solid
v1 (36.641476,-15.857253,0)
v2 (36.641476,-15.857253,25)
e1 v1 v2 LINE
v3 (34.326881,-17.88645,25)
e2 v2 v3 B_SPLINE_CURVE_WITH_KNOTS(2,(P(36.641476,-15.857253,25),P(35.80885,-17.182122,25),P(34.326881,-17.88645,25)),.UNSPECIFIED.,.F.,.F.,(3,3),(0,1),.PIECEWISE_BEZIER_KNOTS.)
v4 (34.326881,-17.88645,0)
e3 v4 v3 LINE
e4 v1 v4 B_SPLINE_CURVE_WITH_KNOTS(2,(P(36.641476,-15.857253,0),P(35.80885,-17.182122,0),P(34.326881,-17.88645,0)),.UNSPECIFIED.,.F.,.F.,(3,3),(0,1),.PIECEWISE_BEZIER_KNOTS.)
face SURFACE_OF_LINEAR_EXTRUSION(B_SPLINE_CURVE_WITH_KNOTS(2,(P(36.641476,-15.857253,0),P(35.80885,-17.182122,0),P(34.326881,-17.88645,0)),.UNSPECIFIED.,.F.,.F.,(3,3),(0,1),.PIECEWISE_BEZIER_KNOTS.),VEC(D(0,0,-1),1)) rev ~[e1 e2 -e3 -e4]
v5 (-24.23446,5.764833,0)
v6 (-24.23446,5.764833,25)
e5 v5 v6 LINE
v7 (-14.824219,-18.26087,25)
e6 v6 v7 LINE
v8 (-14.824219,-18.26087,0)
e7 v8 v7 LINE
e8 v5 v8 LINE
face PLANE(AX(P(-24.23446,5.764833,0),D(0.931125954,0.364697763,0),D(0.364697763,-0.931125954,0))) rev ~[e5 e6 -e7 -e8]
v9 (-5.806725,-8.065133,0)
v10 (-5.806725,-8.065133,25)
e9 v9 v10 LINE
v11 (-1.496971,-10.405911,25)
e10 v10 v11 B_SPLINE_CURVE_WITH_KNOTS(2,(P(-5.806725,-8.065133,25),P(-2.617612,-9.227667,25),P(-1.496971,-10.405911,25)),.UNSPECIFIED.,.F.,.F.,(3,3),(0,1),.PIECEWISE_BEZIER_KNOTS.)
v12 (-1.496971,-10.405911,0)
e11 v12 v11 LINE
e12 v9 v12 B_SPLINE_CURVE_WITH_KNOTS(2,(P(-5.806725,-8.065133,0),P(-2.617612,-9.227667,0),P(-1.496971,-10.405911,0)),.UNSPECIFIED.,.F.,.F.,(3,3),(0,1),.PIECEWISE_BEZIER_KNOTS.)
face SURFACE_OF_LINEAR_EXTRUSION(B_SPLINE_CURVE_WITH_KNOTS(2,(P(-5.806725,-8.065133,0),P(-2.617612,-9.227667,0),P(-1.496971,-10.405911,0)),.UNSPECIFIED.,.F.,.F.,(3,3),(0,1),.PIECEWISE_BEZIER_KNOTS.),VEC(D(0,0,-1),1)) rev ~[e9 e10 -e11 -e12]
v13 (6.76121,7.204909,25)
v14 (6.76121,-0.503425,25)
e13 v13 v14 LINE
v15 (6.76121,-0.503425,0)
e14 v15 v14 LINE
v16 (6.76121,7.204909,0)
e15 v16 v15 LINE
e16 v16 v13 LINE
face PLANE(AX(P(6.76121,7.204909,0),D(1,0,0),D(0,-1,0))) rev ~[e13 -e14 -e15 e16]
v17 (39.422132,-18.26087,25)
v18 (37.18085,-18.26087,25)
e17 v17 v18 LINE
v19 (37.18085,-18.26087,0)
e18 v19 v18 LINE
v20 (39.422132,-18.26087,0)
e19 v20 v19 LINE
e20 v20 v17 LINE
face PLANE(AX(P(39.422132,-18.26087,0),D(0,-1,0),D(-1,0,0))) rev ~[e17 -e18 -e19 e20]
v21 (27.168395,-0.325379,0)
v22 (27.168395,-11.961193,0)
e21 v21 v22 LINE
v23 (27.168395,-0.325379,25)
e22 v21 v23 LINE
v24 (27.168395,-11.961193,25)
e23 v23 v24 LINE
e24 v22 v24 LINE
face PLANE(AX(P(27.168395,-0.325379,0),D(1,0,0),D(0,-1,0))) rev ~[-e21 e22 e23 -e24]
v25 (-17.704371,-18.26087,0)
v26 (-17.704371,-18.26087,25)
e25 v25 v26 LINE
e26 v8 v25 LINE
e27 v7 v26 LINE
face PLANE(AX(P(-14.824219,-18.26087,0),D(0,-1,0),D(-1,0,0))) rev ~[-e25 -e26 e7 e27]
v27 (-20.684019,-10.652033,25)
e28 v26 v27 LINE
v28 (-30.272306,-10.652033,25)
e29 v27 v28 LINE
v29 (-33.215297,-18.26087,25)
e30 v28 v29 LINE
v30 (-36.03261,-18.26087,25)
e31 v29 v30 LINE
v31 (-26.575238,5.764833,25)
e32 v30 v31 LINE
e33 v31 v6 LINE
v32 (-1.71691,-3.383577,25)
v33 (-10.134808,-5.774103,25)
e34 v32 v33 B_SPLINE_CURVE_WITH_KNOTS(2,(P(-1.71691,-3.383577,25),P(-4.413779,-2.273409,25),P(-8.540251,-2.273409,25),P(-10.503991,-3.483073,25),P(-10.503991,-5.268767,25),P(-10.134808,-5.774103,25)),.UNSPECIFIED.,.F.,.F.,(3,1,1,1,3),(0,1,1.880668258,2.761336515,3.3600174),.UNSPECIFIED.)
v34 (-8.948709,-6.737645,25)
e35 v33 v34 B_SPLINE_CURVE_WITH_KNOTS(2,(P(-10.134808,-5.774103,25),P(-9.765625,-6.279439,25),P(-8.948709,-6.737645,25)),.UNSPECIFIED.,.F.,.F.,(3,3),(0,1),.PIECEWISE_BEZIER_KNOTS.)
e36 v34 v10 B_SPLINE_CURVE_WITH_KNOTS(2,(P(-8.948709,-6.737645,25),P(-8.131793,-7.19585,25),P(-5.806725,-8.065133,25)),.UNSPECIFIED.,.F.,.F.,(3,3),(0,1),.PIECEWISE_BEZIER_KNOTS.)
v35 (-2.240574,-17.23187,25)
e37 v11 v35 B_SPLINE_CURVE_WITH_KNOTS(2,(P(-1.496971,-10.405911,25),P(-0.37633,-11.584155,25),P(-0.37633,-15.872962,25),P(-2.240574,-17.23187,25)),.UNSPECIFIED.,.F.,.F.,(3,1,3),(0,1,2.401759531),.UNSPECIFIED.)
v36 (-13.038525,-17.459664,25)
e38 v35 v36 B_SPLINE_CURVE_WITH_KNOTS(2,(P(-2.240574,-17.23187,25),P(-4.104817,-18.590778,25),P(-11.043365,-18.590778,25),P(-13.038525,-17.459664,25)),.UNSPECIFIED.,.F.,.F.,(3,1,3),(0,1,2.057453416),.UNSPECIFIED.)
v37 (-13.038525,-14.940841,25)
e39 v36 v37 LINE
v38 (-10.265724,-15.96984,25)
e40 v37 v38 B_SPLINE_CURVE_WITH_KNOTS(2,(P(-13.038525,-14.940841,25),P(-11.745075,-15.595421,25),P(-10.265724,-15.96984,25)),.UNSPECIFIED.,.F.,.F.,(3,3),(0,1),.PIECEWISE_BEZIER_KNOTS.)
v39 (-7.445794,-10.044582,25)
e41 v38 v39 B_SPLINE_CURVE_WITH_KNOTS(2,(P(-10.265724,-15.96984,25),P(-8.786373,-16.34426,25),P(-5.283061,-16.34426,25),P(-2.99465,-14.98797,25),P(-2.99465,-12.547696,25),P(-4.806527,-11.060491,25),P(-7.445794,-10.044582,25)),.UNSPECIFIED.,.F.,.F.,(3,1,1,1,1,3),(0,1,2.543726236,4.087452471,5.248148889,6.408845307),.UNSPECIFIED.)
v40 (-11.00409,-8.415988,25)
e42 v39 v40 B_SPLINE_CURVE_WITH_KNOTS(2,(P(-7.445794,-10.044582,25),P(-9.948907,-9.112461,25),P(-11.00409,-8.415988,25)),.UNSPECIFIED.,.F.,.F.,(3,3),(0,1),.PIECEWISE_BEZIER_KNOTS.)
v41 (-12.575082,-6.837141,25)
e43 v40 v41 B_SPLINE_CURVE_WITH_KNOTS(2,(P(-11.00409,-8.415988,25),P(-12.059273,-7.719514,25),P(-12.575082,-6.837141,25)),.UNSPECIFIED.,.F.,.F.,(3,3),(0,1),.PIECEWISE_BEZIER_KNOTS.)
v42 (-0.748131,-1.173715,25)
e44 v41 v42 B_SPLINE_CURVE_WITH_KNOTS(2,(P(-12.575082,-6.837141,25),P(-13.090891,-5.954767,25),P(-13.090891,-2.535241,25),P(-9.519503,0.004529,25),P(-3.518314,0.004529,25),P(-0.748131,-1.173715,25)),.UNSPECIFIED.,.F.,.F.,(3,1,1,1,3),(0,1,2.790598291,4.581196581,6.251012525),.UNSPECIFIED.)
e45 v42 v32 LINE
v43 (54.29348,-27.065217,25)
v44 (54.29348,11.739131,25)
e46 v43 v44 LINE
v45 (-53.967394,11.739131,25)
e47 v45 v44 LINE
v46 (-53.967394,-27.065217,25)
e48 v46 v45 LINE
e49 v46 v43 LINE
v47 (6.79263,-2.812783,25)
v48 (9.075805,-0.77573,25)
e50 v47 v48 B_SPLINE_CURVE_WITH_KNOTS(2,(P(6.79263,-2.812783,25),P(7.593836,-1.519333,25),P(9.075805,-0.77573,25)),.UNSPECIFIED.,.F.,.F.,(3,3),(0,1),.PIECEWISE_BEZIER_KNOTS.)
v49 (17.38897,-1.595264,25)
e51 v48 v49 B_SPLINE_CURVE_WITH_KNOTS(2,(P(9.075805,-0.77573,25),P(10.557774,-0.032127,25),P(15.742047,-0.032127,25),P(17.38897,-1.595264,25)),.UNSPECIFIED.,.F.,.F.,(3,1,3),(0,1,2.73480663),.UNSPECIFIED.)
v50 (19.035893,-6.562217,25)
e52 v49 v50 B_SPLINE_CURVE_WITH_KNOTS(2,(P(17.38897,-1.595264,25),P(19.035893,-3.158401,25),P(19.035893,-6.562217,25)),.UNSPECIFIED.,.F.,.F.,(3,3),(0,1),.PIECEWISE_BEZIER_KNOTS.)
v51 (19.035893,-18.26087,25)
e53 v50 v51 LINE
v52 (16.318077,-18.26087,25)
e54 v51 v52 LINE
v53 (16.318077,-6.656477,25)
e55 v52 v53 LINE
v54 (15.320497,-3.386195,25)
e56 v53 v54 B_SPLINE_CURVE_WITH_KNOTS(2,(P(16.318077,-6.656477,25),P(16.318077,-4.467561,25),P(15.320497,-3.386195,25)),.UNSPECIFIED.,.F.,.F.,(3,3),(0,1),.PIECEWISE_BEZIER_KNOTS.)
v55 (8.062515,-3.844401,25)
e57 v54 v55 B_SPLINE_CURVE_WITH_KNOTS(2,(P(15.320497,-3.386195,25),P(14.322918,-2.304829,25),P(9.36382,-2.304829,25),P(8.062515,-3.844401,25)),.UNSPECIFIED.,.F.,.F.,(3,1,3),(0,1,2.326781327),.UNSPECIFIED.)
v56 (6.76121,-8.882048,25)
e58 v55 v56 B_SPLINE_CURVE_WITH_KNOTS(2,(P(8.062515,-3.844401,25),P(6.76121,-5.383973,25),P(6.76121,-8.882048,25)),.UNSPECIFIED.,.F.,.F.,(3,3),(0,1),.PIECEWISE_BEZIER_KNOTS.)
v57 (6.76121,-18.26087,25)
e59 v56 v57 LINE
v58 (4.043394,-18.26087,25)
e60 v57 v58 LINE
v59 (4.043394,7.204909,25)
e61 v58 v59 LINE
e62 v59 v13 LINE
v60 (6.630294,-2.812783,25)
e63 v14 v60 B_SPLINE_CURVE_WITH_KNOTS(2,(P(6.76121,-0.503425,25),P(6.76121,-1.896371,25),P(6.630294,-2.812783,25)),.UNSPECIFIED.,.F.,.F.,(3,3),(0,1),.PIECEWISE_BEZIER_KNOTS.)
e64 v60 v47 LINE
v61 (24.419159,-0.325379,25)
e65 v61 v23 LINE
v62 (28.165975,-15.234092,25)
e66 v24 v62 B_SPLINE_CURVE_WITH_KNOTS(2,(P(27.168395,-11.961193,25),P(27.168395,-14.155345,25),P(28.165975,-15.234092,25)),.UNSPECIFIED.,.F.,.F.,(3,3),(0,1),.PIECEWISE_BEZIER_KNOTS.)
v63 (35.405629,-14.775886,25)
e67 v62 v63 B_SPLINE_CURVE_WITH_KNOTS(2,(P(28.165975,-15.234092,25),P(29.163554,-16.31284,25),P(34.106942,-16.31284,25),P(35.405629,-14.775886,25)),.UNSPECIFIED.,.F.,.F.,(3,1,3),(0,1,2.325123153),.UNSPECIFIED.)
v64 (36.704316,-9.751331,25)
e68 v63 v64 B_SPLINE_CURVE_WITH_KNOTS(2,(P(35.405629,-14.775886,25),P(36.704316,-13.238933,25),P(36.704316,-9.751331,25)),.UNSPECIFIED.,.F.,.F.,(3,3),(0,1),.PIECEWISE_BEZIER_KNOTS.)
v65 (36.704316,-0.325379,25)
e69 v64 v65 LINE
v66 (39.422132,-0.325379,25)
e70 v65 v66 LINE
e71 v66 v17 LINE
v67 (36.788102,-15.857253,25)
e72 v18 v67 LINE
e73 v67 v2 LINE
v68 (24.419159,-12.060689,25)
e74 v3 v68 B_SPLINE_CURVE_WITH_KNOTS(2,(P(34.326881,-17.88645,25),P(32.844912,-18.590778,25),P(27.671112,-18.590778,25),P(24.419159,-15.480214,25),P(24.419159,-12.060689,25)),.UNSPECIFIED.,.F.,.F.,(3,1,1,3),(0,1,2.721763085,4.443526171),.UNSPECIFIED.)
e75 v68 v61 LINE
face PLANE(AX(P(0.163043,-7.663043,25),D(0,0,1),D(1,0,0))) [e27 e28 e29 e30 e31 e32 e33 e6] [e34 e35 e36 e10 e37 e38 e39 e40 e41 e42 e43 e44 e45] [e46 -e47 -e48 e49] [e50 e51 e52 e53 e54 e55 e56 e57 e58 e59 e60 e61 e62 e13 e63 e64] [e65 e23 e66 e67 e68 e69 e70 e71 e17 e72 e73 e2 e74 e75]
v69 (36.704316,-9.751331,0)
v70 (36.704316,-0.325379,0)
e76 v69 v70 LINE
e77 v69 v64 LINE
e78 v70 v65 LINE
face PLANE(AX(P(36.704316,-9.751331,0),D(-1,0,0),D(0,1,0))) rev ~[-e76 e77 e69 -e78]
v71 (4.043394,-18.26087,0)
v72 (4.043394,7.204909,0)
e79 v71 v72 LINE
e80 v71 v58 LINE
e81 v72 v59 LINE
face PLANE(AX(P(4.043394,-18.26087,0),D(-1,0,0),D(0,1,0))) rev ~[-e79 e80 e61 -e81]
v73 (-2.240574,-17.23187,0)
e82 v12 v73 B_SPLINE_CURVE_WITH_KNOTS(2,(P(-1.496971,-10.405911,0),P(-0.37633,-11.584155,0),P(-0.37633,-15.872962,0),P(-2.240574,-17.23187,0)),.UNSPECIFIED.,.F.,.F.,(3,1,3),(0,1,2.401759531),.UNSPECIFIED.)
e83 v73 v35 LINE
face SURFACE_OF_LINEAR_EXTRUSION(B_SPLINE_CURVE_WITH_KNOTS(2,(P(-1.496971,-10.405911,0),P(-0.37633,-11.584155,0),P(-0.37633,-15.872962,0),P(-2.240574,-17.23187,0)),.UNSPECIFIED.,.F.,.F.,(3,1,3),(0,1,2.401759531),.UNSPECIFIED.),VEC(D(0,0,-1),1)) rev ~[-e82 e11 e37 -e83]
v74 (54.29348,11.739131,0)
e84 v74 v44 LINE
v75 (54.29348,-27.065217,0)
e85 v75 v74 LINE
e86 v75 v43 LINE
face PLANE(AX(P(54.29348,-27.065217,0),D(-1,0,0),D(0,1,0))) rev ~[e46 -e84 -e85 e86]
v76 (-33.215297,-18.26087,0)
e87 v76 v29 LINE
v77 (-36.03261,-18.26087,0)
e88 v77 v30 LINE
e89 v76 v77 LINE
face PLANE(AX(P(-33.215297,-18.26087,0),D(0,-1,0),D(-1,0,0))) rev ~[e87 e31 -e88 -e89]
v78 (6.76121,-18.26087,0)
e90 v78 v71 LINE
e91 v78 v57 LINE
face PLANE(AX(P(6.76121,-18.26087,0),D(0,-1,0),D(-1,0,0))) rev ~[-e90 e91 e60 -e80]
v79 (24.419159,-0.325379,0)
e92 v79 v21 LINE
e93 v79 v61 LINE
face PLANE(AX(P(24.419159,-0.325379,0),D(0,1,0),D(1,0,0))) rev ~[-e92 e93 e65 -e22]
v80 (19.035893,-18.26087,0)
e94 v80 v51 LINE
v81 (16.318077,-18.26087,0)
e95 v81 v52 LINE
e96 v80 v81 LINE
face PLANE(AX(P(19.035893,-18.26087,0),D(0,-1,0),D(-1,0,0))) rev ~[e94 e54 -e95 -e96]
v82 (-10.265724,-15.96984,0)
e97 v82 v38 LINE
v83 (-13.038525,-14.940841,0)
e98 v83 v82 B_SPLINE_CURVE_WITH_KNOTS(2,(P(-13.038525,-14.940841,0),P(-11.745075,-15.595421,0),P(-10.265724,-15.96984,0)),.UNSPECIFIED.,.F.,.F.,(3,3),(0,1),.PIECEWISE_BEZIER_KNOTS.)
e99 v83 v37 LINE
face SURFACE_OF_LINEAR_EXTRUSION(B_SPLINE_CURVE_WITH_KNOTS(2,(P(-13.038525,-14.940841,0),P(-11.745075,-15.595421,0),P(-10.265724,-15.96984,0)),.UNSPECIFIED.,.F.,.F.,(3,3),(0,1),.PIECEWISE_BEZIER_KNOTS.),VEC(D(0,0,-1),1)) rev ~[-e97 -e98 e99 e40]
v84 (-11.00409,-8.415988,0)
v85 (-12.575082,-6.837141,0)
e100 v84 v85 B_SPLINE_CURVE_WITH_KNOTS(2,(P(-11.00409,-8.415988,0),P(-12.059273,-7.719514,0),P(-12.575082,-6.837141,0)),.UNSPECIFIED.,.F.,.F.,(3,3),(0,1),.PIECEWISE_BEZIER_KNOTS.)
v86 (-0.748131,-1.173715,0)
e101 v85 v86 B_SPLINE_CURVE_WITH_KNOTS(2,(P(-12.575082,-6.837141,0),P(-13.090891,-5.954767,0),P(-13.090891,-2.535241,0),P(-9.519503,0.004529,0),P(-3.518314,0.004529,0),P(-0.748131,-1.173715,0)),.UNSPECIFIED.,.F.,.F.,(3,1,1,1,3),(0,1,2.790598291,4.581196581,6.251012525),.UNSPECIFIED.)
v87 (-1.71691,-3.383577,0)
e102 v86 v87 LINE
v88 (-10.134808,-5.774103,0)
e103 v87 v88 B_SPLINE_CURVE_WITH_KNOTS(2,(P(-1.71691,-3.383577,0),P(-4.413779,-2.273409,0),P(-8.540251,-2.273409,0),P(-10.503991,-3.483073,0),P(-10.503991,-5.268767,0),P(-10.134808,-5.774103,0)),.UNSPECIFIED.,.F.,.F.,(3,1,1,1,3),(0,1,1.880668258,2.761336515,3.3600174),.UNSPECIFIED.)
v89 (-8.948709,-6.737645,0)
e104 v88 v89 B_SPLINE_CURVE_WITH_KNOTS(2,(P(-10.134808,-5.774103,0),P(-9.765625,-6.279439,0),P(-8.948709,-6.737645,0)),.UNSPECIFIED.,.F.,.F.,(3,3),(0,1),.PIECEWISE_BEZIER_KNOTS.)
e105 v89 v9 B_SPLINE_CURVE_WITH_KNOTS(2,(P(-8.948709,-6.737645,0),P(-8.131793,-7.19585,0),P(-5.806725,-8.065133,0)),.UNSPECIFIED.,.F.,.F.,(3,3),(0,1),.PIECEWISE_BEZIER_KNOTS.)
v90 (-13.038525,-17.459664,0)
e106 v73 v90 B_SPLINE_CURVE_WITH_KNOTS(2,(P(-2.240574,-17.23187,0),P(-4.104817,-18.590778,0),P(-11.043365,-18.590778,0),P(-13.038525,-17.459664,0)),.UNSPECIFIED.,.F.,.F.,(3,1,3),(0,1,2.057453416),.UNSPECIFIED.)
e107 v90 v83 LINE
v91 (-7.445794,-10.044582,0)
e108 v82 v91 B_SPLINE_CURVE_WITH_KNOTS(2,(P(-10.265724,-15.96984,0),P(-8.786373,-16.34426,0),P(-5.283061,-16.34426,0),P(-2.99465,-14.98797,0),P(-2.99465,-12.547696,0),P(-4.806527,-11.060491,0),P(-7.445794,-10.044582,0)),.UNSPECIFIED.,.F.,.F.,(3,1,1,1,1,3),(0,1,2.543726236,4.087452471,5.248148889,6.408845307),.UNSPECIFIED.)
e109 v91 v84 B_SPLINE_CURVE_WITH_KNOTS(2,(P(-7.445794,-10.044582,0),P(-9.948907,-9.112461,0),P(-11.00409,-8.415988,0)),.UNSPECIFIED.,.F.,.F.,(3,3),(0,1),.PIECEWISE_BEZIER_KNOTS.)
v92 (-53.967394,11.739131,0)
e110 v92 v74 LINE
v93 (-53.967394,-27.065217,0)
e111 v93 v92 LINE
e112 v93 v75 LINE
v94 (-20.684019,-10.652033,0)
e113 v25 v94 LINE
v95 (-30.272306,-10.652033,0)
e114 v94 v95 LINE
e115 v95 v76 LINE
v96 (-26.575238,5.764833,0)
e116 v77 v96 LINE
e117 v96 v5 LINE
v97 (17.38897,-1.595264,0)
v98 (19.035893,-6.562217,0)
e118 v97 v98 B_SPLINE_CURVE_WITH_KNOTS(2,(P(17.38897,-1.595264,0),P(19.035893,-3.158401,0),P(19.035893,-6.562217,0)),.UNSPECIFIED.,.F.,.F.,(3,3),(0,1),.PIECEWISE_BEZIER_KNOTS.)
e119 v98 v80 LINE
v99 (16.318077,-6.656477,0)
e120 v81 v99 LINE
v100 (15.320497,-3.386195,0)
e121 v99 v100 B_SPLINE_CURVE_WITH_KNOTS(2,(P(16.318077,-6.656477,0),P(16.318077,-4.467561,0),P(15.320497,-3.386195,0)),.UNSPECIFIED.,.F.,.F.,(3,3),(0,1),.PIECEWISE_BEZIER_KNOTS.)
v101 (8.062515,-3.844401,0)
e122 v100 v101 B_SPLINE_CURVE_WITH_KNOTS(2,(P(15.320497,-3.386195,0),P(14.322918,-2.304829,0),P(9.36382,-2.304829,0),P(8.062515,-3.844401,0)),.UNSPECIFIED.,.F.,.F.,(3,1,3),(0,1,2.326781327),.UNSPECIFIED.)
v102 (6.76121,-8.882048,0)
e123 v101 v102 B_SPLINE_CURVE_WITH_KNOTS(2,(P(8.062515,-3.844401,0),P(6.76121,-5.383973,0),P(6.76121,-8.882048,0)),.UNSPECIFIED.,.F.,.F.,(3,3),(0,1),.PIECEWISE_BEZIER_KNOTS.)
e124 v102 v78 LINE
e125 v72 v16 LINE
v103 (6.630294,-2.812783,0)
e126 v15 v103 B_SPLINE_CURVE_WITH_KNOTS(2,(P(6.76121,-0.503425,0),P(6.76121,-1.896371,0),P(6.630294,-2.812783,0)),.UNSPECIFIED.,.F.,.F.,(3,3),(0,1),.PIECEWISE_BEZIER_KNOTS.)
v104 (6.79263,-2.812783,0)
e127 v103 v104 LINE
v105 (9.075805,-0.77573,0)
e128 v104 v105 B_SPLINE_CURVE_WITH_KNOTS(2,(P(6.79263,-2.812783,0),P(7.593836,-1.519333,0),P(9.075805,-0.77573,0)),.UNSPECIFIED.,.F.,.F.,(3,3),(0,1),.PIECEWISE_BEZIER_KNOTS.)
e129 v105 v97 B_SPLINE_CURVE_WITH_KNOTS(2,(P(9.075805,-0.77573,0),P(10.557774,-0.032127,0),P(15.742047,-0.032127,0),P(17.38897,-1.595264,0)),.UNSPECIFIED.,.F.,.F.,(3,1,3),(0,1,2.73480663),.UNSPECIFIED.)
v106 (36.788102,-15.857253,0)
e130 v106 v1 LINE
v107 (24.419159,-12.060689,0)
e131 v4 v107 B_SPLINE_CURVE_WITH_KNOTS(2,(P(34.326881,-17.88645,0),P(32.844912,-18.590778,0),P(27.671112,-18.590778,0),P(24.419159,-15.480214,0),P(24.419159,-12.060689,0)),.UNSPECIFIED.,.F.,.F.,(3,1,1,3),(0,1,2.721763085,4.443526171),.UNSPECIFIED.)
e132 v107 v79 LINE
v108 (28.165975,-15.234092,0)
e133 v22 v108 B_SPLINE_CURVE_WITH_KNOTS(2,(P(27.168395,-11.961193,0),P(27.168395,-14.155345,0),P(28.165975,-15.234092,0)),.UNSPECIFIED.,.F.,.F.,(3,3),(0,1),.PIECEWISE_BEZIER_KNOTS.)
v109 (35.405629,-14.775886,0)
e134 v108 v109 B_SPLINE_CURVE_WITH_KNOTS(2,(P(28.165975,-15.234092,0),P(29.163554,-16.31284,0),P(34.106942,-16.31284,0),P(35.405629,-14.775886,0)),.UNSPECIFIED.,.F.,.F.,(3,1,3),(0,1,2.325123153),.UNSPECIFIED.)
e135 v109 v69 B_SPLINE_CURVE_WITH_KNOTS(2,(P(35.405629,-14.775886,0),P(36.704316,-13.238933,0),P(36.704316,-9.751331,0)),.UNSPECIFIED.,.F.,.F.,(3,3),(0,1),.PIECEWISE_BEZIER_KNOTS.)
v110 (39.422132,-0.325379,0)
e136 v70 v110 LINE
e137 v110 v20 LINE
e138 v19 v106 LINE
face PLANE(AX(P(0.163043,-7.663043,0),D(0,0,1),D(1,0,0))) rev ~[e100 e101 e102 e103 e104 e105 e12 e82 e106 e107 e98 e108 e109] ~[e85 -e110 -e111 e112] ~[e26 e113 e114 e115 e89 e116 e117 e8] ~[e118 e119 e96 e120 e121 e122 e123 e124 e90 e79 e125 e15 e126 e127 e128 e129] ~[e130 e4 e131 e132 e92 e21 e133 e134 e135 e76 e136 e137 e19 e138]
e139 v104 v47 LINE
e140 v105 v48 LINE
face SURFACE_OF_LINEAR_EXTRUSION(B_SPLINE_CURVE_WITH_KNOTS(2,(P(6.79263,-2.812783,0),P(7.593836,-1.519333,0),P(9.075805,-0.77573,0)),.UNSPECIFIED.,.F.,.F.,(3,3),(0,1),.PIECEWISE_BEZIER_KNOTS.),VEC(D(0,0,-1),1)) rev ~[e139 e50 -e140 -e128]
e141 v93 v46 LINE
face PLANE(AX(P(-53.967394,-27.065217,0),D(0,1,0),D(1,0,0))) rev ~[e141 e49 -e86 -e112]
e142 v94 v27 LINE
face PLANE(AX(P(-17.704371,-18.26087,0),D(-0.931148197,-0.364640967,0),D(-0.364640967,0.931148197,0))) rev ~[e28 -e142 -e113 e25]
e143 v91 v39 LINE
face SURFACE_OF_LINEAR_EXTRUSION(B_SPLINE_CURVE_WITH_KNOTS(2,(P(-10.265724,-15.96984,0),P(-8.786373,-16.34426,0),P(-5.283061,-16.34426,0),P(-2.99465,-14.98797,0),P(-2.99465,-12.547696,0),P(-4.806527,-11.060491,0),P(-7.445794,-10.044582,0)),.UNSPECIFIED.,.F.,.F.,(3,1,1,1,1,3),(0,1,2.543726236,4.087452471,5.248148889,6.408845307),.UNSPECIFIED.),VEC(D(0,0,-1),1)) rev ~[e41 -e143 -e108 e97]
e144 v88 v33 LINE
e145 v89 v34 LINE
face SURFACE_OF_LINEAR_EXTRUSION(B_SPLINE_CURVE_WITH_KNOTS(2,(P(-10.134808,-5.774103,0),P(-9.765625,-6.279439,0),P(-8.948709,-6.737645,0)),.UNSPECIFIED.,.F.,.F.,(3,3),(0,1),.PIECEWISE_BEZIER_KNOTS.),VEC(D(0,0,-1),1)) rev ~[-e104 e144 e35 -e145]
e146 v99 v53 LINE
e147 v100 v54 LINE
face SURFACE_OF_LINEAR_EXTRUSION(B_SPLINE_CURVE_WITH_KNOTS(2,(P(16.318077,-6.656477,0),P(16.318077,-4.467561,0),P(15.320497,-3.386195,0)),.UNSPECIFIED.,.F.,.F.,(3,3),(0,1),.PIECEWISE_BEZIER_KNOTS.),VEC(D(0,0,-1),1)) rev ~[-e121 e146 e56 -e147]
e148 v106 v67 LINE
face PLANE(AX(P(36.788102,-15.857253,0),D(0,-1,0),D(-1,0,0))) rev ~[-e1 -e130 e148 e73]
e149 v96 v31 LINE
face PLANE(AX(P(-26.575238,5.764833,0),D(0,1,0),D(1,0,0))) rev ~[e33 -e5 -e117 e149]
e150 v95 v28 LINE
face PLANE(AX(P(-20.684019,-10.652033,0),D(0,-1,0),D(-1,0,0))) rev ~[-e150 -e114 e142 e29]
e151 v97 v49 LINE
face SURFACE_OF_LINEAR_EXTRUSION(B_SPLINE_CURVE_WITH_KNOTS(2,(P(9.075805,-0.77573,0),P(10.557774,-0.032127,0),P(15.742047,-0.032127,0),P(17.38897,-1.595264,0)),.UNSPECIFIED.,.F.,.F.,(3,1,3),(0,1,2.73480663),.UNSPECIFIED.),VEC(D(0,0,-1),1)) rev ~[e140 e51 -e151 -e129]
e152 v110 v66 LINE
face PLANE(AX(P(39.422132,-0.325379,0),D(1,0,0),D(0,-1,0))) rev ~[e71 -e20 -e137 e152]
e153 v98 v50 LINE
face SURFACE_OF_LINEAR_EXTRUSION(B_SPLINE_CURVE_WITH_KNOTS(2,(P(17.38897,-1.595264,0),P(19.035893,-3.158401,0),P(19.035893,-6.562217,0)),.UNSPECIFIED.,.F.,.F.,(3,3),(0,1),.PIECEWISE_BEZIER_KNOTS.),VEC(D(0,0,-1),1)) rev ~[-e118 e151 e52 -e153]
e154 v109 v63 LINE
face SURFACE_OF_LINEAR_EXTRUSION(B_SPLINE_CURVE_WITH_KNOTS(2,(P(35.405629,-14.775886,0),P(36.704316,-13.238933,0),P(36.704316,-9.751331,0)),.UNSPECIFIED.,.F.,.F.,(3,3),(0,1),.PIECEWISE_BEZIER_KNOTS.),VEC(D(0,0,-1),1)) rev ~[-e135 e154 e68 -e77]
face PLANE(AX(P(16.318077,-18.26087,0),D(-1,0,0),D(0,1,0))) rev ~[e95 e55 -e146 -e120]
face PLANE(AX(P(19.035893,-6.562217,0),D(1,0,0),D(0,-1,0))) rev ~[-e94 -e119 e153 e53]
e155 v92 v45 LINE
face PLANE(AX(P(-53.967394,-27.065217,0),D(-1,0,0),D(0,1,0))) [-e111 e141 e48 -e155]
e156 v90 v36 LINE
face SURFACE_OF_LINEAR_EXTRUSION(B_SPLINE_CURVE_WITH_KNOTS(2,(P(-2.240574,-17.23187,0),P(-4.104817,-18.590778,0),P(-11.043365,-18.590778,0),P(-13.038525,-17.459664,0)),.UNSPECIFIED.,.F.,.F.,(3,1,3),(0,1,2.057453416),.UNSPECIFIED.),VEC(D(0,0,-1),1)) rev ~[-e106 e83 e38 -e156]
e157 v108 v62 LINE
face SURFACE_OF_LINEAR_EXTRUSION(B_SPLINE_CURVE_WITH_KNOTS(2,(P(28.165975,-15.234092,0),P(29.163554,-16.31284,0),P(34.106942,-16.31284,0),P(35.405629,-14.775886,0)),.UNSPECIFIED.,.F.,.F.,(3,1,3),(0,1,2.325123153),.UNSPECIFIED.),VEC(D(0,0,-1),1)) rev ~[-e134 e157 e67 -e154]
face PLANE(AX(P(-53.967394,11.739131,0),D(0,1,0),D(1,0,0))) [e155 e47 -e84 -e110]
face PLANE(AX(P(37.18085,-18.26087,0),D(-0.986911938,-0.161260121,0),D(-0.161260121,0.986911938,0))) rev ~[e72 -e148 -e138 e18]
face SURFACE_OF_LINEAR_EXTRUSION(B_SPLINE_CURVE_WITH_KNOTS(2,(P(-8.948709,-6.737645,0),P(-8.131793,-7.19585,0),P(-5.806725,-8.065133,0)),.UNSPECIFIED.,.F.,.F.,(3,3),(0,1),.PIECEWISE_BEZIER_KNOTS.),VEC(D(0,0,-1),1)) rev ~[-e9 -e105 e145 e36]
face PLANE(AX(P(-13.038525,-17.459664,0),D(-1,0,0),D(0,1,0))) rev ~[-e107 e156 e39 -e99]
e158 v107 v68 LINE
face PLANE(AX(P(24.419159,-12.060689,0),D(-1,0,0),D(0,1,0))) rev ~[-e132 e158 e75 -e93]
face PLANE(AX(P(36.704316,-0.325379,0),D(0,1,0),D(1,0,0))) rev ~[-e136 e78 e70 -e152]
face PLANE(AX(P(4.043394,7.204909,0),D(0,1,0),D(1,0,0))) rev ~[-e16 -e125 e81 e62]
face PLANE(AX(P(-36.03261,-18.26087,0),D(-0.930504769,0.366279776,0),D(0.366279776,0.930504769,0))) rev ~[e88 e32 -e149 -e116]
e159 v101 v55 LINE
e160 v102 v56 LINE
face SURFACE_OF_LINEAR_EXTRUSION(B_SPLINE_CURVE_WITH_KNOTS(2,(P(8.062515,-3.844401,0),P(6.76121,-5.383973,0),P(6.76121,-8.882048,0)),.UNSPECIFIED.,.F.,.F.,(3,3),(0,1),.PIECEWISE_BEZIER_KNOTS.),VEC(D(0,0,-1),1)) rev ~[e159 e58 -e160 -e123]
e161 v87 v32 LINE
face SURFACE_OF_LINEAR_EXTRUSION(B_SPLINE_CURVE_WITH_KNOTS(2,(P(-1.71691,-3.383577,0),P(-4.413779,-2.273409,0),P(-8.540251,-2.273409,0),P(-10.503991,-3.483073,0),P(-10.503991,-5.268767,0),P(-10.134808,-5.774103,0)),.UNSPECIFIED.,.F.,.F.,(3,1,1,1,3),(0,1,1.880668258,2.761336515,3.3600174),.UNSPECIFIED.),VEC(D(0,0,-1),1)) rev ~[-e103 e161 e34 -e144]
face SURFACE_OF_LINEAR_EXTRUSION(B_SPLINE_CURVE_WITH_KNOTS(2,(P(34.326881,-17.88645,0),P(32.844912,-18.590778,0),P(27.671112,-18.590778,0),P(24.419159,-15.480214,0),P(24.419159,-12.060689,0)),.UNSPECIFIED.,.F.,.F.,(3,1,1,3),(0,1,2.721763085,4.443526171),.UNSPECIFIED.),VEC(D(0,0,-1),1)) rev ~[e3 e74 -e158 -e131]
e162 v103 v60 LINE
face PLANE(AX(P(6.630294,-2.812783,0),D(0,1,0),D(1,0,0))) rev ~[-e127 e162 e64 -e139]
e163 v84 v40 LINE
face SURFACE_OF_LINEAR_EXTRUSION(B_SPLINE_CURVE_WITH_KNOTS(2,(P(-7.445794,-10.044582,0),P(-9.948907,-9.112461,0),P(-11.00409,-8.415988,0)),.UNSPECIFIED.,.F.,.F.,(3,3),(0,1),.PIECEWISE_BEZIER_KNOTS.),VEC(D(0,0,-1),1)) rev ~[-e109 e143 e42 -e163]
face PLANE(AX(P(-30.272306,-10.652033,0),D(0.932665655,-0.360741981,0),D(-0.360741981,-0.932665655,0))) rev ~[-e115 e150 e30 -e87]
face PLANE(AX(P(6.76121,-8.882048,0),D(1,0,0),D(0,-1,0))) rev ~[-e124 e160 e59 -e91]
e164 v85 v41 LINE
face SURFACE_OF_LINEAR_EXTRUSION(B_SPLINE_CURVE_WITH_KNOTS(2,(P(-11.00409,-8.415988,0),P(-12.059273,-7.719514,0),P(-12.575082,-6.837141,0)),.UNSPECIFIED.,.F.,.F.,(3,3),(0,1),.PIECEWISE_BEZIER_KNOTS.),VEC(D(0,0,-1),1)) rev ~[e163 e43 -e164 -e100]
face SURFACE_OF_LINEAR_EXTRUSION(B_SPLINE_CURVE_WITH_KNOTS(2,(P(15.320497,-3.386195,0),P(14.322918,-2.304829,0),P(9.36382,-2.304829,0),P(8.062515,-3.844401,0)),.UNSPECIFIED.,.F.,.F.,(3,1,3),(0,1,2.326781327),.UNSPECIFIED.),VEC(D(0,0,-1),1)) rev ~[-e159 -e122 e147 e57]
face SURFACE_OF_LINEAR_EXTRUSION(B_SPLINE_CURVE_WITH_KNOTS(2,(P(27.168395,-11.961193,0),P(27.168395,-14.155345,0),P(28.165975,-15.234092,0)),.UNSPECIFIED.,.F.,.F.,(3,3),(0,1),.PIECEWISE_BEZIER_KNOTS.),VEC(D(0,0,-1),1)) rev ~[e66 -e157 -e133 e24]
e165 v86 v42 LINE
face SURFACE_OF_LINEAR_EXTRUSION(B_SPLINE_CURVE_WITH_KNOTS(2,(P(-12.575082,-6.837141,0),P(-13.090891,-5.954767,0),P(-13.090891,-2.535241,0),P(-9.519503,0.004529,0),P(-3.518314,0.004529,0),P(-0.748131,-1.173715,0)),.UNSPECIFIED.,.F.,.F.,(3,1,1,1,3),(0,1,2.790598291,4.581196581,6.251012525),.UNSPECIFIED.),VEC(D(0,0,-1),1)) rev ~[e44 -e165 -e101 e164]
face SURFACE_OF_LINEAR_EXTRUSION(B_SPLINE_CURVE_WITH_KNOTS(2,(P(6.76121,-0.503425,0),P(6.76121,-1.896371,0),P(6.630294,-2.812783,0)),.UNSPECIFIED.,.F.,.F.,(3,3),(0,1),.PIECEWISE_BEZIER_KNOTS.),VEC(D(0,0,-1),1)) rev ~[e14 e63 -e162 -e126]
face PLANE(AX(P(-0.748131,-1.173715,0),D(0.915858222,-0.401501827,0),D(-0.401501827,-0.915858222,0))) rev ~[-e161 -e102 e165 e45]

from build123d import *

# Parameters (mm, degrees)
F0_W     = 108.2608737051
F0_H     = 38.8043485582
F1_DEPTH = 25


with BuildPart() as f1:
    # F0 (on Top) → F1 (new body)
    with BuildSketch(Plane.XY):
        with Locations((0.1630429178, -7.6630432159)):
            Rectangle(F0_W, F0_H)
        with BuildLine():
            add(Edge.make_bspline(
                [(-1.4969709304, -10.405910604), (-0.3763300382, -11.5841545327), (-0.3763300382, -13.3698486647)],
                knots=[0, 0, 0, 1, 1, 1], degree=2))
            add(Edge.make_bspline(
                [(-0.3763300382, -13.3698486647), (-0.3763300382, -15.8729624333), (-2.2405737654, -17.2318704311)],
                knots=[0, 0, 0, 1, 1, 1], degree=2))
            add(Edge.make_bspline(
                [(-2.2405737654, -17.2318704311), (-4.1048174927, -18.5907784289), (-7.4772134487, -18.5907784289)],
                knots=[0, 0, 0, 1, 1, 1], degree=2))
            add(Edge.make_bspline(
                [(-7.4772134487, -18.5907784289), (-11.043365073, -18.5907784289), (-13.0385247923, -17.4596642573)],
                knots=[0, 0, 0, 1, 1, 1], degree=2))
            Line((-13.0385247923, -17.4596642573), (-13.0385247923, -14.9408405697))
            add(Edge.make_bspline(
                [(-13.0385247923, -14.9408405697), (-11.7450747906, -15.5954205301), (-10.2657240801, -15.9698402674)],
                knots=[0, 0, 0, 1, 1, 1], degree=2))
            add(Edge.make_bspline(
                [(-10.2657240801, -15.9698402674), (-8.7863733695, -16.3442600048), (-7.4091371328, -16.3442600048)],
                knots=[0, 0, 0, 1, 1, 1], degree=2))
            add(Edge.make_bspline(
                [(-7.4091371328, -16.3442600048), (-5.2830614214, -16.3442600048), (-4.1388556506, -15.6661151658)],
                knots=[0, 0, 0, 1, 1, 1], degree=2))
            add(Edge.make_bspline(
                [(-4.1388556506, -15.6661151658), (-2.9946498798, -14.9879703268), (-2.9946498798, -13.5950241711)],
                knots=[0, 0, 0, 1, 1, 1], degree=2))
            add(Edge.make_bspline(
                [(-2.9946498798, -13.5950241711), (-2.9946498798, -12.5476962344), (-3.900588545, -11.8040933994)],
                knots=[0, 0, 0, 1, 1, 1], degree=2))
            add(Edge.make_bspline(
                [(-3.900588545, -11.8040933994), (-4.8065272102, -11.0604905644), (-7.4457936106, -10.0445824658)],
                knots=[0, 0, 0, 1, 1, 1], degree=2))
            add(Edge.make_bspline(
                [(-7.4457936106, -10.0445824658), (-9.9489073792, -9.1124606022), (-11.0040902754, -8.4159875243)],
                knots=[0, 0, 0, 1, 1, 1], degree=2))
            add(Edge.make_bspline(
                [(-11.0040902754, -8.4159875243), (-12.0592731716, -7.7195144465), (-12.5750821804, -6.8371406598)],
                knots=[0, 0, 0, 1, 1, 1], degree=2))
            add(Edge.make_bspline(
                [(-12.5750821804, -6.8371406598), (-13.0908911892, -5.9547668732), (-13.0908911892, -4.7293931873)],
                knots=[0, 0, 0, 1, 1, 1], degree=2))
            add(Edge.make_bspline(
                [(-13.0908911892, -4.7293931873), (-13.0908911892, -2.53524116), (-11.3051970572, -1.2653560368)],
                knots=[0, 0, 0, 1, 1, 1], degree=2))
            add(Edge.make_bspline(
                [(-11.3051970572, -1.2653560368), (-9.5195029252, 0.0045290864), (-6.414175593, 0.0045290864)],
                knots=[0, 0, 0, 1, 1, 1], degree=2))
            add(Edge.make_bspline(
                [(-6.414175593, 0.0045290864), (-3.5183138482, 0.0045290864), (-0.7481314557, -1.1737148424)],
                knots=[0, 0, 0, 1, 1, 1], degree=2))
            Line((-0.7481314557, -1.1737148424), (-1.7169097971, -3.3835767887))
            add(Edge.make_bspline(
                [(-1.7169097971, -3.3835767887), (-4.413779234, -2.2734091759), (-6.6079312613, -2.2734091759)],
                knots=[0, 0, 0, 1, 1, 1], degree=2))
            add(Edge.make_bspline(
                [(-6.6079312613, -2.2734091759), (-8.5402513044, -2.2734091759), (-9.522121245, -2.8782410593)],
                knots=[0, 0, 0, 1, 1, 1], degree=2))
            add(Edge.make_bspline(
                [(-9.522121245, -2.8782410593), (-10.5039911856, -3.4830729427), (-10.5039911856, -4.5461107984)],
                knots=[0, 0, 0, 1, 1, 1], degree=2))
            add(Edge.make_bspline(
                [(-10.5039911856, -4.5461107984), (-10.5039911856, -5.2687670747), (-10.134808088, -5.7741028041)],
                knots=[0, 0, 0, 1, 1, 1], degree=2))
            add(Edge.make_bspline(
                [(-10.134808088, -5.7741028041), (-9.7656249903, -6.2794385336), (-8.9487091997, -6.7376445058)],
                knots=[0, 0, 0, 1, 1, 1], degree=2))
            add(Edge.make_bspline(
                [(-8.9487091997, -6.7376445058), (-8.1317934091, -7.1958504781), (-5.8067253898, -8.0651326656)],
                knots=[0, 0, 0, 1, 1, 1], degree=2))
            add(Edge.make_bspline(
                [(-5.8067253898, -8.0651326656), (-2.6176118226, -9.2276666752), (-1.4969709304, -10.405910604)],
                knots=[0, 0, 0, 1, 1, 1], degree=2))
        make_face(mode=Mode.SUBTRACT)
        with BuildLine():
            Line((24.419158862, -0.3253792137), (27.1683946958, -0.3253792137))
            Line((27.1683946958, -0.3253792137), (27.1683946958, -11.9611925899))
            add(Edge.make_bspline(
                [(27.1683946958, -11.9611925899), (27.1683946958, -14.1553446172), (28.1659745554, -15.2340923919)],
                knots=[0, 0, 0, 1, 1, 1], degree=2))
            add(Edge.make_bspline(
                [(28.1659745554, -15.2340923919), (29.1635544151, -16.3128401667), (31.2896301265, -16.3128401667)],
                knots=[0, 0, 0, 1, 1, 1], degree=2))
            add(Edge.make_bspline(
                [(31.2896301265, -16.3128401667), (34.1069422761, -16.3128401667), (35.4056289175, -14.7758864197)],
                knots=[0, 0, 0, 1, 1, 1], degree=2))
            add(Edge.make_bspline(
                [(35.4056289175, -14.7758864197), (36.704315559, -13.2389326726), (36.704315559, -9.7513306436)],
                knots=[0, 0, 0, 1, 1, 1], degree=2))
            Line((36.704315559, -9.7513306436), (36.704315559, -0.3253792137))
            Line((36.704315559, -0.3253792137), (39.4221315546, -0.3253792137))
            Line((39.4221315546, -0.3253792137), (39.4221315546, -18.2608701289))
            Line((39.4221315546, -18.2608701289), (37.1808497702, -18.2608701289))
            Line((37.1808497702, -18.2608701289), (36.7881017939, -15.8572525143))
            Line((36.7881017939, -15.8572525143), (36.6414758828, -15.8572525143))
            add(Edge.make_bspline(
                [(36.6414758828, -15.8572525143), (35.8088501731, -17.1821223541), (34.3268811428, -17.8864503915)],
                knots=[0, 0, 0, 1, 1, 1], degree=2))
            add(Edge.make_bspline(
                [(34.3268811428, -17.8864503915), (32.8449121124, -18.5907784289), (30.9440119074, -18.5907784289)],
                knots=[0, 0, 0, 1, 1, 1], degree=2))
            add(Edge.make_bspline(
                [(30.9440119074, -18.5907784289), (27.6711121054, -18.5907784289), (26.0451354837, -17.035496443)],
                knots=[0, 0, 0, 1, 1, 1], degree=2))
            add(Edge.make_bspline(
                [(26.0451354837, -17.035496443), (24.419158862, -15.4802144571), (24.419158862, -12.0606887439)],
                knots=[0, 0, 0, 1, 1, 1], degree=2))
            Line((24.419158862, -12.0606887439), (24.419158862, -0.3253792137))
        make_face(mode=Mode.SUBTRACT)
        Polygon((-14.8242189243, -18.2608701289), (-17.7043707501, -18.2608701289), (-20.6840187299, -10.6520326691), (-30.27230599, -10.6520326691), (-33.215297492, -18.2608701289), (-36.0326096416, -18.2608701289), (-26.5752383736, 5.7648327379), (-24.2344604352, 5.7648327379), align=None, mode=Mode.SUBTRACT)
        with BuildLine():
            Line((19.0358932677, -18.2608701289), (16.318077272, -18.2608701289))
            Line((16.318077272, -18.2608701289), (16.318077272, -6.6564765908))
            add(Edge.make_bspline(
                [(16.318077272, -6.6564765908), (16.318077272, -4.4675612032), (15.3204974124, -3.3861951086)],
                knots=[0, 0, 0, 1, 1, 1], degree=2))
            add(Edge.make_bspline(
                [(15.3204974124, -3.3861951086), (14.3229175527, -2.304829014), (12.1916052016, -2.304829014)],
                knots=[0, 0, 0, 1, 1, 1], degree=2))
            add(Edge.make_bspline(
                [(12.1916052016, -2.304829014), (9.3638197727, -2.304829014), (8.0625148114, -3.8444010808)],
                knots=[0, 0, 0, 1, 1, 1], degree=2))
            add(Edge.make_bspline(
                [(8.0625148114, -3.8444010808), (6.7612098501, -5.3839731477), (6.7612098501, -8.8820484561)],
                knots=[0, 0, 0, 1, 1, 1], degree=2))
            Line((6.7612098501, -8.8820484561), (6.7612098501, -18.2608701289))
            Line((6.7612098501, -18.2608701289), (4.0433938545, -18.2608701289))
            Line((4.0433938545, -18.2608701289), (4.0433938545, 7.2049086508))
            Line((4.0433938545, 7.2049086508), (6.7612098501, 7.2049086508))
            Line((6.7612098501, 7.2049086508), (6.7612098501, -0.5034249629))
            add(Edge.make_bspline(
                [(6.7612098501, -0.5034249629), (6.7612098501, -1.8963711187), (6.630293858, -2.8127830632)],
                knots=[0, 0, 0, 1, 1, 1], degree=2))
            Line((6.630293858, -2.8127830632), (6.7926296882, -2.8127830632))
            add(Edge.make_bspline(
                [(6.7926296882, -2.8127830632), (7.5938355597, -1.5193330615), (9.0758045901, -0.7757302265)],
                knots=[0, 0, 0, 1, 1, 1], degree=2))
            add(Edge.make_bspline(
                [(9.0758045901, -0.7757302265), (10.5577736204, -0.0321273914), (12.4534371858, -0.0321273914)],
                knots=[0, 0, 0, 1, 1, 1], degree=2))
            add(Edge.make_bspline(
                [(12.4534371858, -0.0321273914), (15.7420469069, -0.0321273914), (17.3889700873, -1.5952643369)],
                knots=[0, 0, 0, 1, 1, 1], degree=2))
            add(Edge.make_bspline(
                [(17.3889700873, -1.5952643369), (19.0358932677, -3.1584012823), (19.0358932677, -6.5622170765)],
                knots=[0, 0, 0, 1, 1, 1], degree=2))
            Line((19.0358932677, -6.5622170765), (19.0358932677, -18.2608701289))
        make_face(mode=Mode.SUBTRACT)
    extrude(amount=F1_DEPTH)


solid = f1.part
